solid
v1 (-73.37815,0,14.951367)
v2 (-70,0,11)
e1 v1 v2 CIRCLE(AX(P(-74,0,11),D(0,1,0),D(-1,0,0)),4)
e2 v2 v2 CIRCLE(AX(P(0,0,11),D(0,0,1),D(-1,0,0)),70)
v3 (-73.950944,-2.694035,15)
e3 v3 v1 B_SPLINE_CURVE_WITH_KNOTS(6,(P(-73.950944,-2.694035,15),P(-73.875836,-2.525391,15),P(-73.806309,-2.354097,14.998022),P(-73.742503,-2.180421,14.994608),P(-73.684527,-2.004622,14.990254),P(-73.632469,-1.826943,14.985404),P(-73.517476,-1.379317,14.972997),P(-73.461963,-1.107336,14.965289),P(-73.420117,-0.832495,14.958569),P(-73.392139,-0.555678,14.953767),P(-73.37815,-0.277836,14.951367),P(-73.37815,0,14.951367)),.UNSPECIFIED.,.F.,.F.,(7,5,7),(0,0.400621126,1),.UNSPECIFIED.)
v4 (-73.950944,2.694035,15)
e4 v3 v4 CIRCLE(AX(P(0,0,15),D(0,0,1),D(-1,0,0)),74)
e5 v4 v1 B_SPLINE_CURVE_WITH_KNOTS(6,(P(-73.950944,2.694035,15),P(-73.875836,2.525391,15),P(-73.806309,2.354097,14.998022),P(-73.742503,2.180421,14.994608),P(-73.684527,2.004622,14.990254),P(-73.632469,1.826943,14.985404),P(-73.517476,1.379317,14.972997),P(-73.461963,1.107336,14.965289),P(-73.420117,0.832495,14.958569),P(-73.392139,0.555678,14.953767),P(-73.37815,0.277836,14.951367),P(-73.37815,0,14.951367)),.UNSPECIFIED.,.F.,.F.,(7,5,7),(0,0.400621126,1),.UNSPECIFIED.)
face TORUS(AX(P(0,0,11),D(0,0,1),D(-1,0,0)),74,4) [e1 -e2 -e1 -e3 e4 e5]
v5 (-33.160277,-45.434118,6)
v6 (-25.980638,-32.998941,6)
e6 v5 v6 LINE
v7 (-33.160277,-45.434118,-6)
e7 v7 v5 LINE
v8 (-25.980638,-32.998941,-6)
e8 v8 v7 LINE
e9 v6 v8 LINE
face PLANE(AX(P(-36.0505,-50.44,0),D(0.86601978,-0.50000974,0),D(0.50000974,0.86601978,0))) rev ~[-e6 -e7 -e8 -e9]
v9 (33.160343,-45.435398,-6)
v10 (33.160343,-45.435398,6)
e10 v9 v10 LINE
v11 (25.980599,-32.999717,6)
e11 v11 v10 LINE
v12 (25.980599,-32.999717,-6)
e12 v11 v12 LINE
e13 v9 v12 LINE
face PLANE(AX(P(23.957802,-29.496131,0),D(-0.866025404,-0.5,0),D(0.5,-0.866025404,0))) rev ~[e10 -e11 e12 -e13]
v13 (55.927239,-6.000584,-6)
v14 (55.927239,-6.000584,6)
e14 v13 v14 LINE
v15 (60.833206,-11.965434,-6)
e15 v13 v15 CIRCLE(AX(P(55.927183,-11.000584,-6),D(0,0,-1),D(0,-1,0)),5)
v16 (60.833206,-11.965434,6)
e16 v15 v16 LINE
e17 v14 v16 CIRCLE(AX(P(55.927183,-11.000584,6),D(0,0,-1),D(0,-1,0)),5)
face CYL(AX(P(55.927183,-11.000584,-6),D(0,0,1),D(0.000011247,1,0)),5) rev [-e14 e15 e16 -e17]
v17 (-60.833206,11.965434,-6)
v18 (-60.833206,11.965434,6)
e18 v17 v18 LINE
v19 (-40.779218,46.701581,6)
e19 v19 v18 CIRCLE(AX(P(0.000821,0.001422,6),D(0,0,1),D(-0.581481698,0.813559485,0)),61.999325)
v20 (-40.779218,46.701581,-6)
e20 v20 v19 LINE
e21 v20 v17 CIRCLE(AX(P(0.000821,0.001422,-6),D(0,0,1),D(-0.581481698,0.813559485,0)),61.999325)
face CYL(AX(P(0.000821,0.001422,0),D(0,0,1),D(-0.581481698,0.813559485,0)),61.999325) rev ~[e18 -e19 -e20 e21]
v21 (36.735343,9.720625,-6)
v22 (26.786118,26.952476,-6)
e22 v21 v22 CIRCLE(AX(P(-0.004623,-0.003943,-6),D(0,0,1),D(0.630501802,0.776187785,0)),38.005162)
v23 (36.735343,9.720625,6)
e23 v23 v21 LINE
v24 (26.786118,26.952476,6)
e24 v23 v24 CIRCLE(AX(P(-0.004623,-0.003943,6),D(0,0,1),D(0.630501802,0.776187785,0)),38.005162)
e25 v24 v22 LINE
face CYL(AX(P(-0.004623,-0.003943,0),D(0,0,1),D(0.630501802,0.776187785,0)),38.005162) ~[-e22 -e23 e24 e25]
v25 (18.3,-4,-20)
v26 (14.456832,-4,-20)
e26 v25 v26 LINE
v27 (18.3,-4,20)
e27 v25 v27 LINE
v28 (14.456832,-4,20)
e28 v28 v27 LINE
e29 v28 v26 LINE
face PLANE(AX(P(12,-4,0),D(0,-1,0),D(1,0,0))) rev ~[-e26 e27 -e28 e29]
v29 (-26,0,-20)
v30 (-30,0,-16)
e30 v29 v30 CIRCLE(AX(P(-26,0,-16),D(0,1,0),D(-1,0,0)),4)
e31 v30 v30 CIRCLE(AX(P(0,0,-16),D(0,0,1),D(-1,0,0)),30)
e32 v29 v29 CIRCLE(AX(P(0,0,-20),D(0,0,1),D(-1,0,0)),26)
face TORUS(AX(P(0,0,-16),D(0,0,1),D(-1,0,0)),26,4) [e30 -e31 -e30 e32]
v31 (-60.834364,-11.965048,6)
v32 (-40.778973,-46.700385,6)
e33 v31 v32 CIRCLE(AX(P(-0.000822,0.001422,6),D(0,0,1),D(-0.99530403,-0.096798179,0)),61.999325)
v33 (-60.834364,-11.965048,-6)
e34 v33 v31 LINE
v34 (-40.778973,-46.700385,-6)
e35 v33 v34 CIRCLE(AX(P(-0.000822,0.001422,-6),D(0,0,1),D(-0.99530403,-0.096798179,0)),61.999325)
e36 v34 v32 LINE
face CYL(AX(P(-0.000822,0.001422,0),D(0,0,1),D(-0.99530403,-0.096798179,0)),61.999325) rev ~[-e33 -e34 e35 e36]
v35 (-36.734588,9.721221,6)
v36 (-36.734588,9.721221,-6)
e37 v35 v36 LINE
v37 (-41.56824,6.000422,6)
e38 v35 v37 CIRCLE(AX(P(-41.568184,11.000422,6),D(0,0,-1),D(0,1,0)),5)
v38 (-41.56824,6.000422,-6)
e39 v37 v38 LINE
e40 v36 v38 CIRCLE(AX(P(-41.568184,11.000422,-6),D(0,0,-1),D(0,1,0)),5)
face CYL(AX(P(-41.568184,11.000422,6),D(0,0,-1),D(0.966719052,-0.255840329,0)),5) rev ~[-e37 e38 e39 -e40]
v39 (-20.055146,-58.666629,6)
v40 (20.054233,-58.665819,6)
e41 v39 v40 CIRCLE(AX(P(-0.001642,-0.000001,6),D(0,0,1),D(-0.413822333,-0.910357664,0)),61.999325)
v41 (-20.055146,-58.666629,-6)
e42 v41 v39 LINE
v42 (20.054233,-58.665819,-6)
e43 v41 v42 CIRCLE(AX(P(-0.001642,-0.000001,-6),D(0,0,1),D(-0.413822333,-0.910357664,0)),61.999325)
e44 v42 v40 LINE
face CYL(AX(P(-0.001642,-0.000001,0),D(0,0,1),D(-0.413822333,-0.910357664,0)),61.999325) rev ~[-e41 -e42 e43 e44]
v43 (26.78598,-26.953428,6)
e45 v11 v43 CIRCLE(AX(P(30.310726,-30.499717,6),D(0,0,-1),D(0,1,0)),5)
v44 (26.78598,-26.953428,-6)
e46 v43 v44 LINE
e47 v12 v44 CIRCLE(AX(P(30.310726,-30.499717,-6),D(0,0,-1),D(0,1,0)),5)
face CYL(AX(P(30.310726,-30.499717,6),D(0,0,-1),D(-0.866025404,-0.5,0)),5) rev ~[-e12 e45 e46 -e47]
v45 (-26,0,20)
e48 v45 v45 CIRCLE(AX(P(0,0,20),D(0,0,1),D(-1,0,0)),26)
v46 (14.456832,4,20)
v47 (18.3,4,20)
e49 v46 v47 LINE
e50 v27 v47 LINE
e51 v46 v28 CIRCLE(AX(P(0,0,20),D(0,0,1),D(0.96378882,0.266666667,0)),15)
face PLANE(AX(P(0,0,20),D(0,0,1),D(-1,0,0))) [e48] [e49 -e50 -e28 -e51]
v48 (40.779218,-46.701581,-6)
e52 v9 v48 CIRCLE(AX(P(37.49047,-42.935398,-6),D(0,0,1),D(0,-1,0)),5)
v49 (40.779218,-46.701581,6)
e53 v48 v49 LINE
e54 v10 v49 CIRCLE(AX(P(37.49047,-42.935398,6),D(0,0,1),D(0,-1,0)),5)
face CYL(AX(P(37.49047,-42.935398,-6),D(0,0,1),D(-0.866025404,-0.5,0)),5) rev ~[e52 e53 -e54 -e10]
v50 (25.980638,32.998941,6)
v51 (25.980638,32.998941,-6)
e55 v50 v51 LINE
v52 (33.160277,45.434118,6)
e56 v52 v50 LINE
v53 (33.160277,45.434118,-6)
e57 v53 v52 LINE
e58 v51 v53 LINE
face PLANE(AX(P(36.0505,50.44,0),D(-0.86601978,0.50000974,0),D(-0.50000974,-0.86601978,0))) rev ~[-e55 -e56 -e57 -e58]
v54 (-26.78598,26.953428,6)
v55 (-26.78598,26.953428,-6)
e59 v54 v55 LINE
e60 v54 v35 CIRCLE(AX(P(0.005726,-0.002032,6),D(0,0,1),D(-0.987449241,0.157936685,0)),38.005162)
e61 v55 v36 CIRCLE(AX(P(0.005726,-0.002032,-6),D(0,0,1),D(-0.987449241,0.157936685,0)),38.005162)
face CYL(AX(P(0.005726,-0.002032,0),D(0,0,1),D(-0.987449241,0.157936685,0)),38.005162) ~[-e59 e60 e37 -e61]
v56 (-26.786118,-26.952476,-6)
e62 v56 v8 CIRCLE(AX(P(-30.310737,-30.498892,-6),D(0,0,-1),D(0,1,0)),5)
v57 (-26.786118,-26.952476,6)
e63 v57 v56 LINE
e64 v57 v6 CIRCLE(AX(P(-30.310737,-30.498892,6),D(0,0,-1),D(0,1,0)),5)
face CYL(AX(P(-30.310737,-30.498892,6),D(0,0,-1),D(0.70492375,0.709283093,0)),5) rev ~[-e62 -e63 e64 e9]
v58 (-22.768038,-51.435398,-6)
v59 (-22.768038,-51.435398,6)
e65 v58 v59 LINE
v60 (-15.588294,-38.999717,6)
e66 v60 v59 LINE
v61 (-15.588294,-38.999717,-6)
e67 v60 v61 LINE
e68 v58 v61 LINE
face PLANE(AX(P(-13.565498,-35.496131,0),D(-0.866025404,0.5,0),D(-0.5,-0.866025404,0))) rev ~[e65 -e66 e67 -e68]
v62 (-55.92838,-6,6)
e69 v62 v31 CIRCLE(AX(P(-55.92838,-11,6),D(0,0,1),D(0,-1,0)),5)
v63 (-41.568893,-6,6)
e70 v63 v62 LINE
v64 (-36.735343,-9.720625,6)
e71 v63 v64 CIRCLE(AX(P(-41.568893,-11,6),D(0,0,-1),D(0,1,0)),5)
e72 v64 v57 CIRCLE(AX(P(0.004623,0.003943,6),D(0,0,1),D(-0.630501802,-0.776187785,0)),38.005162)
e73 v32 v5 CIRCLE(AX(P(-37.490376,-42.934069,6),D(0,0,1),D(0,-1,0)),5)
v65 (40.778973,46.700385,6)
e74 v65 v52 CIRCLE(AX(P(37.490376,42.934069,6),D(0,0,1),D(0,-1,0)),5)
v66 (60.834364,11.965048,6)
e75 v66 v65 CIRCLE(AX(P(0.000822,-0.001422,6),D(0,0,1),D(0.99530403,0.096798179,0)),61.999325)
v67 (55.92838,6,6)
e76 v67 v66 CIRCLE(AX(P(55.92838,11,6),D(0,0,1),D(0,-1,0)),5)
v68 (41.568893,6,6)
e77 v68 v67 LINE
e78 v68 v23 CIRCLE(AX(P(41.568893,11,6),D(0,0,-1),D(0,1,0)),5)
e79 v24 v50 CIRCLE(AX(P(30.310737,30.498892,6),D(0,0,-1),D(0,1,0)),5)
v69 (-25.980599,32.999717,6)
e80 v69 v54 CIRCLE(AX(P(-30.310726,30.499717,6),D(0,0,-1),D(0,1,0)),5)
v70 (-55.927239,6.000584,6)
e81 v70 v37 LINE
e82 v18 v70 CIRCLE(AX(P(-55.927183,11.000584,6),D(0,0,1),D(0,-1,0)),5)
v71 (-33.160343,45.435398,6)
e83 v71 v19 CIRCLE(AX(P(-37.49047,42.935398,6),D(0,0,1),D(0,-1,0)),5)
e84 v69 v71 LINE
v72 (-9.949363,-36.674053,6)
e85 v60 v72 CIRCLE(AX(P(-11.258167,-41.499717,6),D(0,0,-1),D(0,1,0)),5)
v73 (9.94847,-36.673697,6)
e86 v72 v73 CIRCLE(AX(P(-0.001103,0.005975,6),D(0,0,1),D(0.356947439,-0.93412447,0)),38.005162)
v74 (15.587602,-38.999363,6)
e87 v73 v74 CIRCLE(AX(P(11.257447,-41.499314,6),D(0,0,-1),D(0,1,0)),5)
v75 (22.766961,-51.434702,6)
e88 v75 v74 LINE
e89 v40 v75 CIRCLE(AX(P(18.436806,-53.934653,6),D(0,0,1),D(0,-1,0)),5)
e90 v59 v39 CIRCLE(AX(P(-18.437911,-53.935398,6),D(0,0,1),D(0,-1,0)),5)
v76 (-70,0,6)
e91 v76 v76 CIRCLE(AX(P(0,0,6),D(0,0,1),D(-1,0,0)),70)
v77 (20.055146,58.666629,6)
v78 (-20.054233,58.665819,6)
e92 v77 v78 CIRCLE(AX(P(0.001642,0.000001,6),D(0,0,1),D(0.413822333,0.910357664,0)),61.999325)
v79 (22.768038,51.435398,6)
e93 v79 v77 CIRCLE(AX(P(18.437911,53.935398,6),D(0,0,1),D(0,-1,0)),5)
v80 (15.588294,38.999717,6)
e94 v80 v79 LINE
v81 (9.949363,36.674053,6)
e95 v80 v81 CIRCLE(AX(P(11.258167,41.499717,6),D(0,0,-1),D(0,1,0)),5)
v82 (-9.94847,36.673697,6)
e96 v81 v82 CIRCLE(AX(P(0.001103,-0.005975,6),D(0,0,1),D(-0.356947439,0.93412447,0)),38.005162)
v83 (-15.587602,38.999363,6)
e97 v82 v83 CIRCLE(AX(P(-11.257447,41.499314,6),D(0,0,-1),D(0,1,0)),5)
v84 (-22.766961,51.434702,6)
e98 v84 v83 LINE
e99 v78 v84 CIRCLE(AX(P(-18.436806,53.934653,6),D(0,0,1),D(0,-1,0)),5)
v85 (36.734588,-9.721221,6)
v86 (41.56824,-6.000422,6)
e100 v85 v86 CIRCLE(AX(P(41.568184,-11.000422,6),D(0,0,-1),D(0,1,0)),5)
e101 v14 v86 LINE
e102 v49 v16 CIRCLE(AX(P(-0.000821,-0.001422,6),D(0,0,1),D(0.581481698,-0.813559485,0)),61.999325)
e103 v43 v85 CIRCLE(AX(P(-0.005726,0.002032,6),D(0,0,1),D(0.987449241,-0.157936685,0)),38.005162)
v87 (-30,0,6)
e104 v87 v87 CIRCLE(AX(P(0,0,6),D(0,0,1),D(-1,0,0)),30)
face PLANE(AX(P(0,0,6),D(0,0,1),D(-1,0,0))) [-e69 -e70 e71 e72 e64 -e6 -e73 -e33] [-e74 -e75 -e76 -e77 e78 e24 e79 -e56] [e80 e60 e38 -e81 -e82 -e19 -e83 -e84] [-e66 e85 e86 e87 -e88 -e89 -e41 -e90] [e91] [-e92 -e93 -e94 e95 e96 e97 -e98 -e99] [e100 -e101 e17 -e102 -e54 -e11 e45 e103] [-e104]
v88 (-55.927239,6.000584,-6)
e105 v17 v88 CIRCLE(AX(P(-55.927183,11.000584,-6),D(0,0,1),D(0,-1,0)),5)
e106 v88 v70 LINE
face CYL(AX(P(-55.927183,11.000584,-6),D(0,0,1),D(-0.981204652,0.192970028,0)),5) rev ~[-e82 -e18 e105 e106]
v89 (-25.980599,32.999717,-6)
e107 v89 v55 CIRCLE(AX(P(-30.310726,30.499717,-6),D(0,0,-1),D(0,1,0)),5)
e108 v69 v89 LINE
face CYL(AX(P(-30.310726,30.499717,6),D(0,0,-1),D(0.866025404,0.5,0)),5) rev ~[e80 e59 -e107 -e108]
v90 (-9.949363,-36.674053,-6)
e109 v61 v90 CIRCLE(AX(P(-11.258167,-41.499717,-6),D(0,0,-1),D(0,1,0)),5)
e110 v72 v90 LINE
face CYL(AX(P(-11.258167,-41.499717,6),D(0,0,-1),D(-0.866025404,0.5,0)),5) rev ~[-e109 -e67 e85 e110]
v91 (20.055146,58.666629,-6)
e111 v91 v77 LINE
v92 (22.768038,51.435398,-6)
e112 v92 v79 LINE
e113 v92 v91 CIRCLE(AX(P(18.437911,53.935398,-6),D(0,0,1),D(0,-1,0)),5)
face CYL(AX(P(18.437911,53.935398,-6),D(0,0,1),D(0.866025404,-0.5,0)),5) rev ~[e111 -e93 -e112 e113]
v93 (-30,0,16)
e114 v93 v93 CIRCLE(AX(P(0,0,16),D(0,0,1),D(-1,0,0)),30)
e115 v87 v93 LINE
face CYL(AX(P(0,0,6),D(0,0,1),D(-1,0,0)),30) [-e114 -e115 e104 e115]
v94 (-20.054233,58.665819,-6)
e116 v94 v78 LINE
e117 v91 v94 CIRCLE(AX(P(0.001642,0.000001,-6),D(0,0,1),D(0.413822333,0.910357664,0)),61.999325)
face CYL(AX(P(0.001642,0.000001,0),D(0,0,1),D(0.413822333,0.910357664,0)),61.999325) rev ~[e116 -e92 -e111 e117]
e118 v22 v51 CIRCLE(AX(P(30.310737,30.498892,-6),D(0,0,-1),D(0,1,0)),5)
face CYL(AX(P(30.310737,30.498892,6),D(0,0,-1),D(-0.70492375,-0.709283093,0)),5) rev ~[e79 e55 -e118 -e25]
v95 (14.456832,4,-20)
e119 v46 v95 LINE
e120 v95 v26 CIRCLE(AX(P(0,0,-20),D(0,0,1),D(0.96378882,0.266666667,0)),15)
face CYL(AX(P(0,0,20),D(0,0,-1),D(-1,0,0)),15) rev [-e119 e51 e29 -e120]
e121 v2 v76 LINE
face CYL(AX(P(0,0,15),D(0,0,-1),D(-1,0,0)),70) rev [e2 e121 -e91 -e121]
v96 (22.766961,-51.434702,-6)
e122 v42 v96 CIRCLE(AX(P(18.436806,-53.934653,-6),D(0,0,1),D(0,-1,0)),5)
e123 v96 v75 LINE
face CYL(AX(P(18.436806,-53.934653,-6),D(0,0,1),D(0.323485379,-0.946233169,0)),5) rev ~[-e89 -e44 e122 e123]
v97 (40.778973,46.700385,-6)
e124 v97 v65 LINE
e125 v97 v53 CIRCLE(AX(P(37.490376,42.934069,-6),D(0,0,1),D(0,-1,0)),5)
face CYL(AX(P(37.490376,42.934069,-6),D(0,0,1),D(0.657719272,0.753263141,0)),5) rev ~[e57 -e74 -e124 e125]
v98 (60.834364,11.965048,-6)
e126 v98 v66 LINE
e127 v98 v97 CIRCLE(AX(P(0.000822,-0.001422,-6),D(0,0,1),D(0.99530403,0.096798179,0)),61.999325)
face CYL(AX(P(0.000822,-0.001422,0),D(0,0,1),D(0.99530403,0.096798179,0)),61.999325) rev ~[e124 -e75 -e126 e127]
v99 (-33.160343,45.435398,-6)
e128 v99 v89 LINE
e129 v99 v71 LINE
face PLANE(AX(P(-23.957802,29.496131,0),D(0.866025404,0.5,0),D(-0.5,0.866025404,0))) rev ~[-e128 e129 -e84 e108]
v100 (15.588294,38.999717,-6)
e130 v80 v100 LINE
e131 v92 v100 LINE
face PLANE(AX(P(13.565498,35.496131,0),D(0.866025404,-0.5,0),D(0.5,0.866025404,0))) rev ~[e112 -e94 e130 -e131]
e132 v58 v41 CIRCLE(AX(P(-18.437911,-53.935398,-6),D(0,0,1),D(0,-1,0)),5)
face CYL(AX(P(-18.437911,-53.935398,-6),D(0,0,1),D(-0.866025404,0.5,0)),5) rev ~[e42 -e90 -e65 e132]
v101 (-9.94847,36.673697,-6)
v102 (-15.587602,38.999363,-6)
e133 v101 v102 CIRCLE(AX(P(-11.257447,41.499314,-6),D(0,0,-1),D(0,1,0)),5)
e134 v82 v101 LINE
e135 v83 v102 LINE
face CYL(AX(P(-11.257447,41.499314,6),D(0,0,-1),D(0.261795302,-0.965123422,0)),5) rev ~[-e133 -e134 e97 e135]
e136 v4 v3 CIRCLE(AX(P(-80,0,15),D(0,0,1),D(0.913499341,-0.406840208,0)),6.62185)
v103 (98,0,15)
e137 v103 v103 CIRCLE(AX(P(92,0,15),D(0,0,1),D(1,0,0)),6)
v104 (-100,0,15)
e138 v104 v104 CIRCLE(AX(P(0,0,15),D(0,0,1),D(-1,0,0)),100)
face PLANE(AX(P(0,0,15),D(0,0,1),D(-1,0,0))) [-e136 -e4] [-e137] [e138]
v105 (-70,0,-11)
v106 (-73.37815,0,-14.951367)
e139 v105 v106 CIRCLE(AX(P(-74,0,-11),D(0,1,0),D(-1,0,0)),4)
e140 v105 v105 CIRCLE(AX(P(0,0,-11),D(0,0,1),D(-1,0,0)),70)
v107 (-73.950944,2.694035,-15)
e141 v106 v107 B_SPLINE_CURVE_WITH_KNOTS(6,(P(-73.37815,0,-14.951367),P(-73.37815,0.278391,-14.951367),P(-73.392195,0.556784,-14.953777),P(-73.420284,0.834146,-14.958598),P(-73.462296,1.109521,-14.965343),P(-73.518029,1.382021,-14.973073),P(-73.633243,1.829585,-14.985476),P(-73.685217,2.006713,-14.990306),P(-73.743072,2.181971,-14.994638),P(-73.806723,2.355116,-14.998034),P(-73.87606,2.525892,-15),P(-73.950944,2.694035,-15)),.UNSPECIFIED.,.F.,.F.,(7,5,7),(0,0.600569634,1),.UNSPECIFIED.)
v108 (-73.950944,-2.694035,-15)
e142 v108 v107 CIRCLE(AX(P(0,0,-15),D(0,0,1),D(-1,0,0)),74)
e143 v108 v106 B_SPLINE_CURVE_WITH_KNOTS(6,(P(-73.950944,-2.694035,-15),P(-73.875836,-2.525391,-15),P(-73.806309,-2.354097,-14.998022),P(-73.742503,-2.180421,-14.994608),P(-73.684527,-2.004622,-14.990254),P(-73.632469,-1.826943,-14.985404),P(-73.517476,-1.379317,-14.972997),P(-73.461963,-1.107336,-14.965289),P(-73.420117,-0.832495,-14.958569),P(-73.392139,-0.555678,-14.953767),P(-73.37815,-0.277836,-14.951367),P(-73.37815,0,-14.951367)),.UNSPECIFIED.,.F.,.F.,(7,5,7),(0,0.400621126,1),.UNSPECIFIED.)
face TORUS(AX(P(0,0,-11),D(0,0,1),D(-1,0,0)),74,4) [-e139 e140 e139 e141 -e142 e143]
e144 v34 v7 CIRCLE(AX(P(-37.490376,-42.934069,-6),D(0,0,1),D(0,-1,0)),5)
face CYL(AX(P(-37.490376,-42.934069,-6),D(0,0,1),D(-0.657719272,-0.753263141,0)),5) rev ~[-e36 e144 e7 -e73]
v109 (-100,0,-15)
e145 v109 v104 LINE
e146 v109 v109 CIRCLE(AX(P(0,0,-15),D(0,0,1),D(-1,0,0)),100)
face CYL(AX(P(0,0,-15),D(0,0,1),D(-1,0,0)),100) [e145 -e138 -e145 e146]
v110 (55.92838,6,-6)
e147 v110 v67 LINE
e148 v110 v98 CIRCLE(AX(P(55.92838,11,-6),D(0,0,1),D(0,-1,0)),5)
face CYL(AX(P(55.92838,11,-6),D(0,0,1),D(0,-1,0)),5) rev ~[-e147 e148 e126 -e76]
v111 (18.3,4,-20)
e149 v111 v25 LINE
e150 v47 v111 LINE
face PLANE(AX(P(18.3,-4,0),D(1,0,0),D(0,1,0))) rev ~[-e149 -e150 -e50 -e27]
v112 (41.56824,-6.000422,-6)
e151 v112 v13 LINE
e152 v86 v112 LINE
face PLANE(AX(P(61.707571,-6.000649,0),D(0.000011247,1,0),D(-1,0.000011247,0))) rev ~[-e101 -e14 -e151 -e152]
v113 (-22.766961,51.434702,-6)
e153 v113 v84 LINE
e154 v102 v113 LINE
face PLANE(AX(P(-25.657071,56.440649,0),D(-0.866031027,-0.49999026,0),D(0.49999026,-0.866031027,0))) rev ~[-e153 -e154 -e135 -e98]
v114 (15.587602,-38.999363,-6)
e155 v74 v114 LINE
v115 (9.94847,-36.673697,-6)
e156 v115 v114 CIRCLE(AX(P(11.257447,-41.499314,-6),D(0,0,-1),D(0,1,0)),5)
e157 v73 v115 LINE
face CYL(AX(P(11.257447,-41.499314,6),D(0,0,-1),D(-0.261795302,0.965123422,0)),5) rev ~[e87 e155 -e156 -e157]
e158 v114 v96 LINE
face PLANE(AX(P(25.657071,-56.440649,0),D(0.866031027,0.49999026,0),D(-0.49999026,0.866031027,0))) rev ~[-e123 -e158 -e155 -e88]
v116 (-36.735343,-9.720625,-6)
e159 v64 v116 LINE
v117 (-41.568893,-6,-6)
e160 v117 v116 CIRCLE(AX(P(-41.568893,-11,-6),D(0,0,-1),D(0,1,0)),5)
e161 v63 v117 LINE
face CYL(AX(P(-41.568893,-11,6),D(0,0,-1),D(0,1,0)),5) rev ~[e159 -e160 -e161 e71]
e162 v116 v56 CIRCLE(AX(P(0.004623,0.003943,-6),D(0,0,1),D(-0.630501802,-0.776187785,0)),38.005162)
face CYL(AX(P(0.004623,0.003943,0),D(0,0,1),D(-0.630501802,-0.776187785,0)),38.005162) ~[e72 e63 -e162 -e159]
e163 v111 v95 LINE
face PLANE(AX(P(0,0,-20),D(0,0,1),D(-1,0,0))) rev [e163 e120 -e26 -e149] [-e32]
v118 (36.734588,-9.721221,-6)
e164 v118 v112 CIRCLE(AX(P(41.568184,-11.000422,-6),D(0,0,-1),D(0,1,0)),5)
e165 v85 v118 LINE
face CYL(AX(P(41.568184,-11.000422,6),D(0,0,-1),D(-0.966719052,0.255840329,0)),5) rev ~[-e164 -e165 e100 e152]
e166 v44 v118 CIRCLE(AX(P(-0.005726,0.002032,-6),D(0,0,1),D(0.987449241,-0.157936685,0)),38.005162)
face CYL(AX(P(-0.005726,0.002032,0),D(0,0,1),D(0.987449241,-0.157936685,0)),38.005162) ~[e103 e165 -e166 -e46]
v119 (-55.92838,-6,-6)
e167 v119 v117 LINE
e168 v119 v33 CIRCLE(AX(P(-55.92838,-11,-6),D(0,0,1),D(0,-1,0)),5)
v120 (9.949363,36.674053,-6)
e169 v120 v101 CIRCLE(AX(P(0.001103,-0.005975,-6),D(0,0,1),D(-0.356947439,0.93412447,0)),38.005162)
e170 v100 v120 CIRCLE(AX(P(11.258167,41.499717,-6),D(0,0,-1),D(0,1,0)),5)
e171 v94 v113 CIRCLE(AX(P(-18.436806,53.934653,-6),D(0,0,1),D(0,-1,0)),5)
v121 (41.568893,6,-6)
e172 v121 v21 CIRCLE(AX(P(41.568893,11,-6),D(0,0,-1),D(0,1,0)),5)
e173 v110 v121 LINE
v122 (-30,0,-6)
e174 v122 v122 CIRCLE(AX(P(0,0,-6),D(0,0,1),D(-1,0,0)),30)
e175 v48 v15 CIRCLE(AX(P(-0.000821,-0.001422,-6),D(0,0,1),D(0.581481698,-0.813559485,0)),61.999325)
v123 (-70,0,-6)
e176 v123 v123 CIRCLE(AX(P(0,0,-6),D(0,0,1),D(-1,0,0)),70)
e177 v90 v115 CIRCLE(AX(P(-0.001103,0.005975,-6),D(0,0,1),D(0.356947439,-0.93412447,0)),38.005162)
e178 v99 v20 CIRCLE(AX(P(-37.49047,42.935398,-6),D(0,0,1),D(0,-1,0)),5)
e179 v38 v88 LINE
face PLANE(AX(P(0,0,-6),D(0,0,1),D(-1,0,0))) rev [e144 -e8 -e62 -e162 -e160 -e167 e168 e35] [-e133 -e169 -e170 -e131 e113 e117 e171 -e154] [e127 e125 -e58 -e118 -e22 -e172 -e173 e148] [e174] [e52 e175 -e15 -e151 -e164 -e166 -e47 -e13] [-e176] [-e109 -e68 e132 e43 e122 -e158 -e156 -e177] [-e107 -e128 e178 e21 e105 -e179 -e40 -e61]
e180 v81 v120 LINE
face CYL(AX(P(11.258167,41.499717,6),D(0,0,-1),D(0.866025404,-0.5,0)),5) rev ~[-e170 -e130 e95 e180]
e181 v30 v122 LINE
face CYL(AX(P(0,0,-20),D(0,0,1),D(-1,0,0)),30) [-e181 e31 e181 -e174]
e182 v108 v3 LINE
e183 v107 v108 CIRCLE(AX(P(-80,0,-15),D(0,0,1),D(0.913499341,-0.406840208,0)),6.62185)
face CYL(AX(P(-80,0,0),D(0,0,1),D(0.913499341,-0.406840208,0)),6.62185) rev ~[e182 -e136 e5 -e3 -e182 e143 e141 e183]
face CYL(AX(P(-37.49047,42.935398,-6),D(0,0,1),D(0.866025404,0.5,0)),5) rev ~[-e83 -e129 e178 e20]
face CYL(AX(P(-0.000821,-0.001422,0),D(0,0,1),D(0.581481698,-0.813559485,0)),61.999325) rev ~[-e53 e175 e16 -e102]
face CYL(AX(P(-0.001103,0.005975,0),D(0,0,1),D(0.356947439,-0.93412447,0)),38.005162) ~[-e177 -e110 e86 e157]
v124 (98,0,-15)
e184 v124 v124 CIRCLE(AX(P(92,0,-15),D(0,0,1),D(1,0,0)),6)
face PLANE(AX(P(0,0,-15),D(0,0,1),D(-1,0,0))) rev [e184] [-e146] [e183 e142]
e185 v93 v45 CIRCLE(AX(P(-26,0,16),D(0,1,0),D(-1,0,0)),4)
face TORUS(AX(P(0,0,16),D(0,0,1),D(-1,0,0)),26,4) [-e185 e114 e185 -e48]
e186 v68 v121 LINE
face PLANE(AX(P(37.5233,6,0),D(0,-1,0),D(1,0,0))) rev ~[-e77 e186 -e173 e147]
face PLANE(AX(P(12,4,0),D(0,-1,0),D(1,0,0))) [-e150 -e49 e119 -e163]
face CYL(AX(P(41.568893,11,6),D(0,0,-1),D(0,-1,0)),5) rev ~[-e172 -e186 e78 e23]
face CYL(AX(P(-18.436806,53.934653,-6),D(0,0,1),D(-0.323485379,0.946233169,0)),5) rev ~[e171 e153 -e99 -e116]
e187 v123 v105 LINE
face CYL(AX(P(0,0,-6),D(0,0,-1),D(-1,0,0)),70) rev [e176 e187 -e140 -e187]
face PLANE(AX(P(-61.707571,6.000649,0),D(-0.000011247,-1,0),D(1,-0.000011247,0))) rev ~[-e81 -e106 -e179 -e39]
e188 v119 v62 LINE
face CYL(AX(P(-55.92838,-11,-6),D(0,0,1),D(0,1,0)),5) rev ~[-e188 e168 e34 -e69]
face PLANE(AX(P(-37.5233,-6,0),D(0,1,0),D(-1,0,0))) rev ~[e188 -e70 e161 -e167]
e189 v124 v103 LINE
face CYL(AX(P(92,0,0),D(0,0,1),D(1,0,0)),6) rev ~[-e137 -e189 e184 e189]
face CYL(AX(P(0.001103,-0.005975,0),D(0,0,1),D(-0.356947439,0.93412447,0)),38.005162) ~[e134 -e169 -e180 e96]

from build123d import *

# Parameters (mm, degrees)
FILLET_1_R               = 4
CUT_EXTRUDE_10_DEPTH     = 201
PATTERN_CIRCULAR_1_COUNT = 6
FILLET_2_R               = 5
SKETCH_10_W              = 6.3
SKETCH_10_H              = 8
CUT_EXTRUDE_13_DEPTH     = 201
SKETCH_11_R              = 6.62185
CUT_EXTRUDE_14_DEPTH     = 201
SKETCH_12_R              = 6
CUT_EXTRUDE_15_DEPTH     = 201


with BuildPart() as part:
    # 草图1 → 旋转1 (revolve)
    with BuildSketch(Plane(origin=(0, 0, 0), x_dir=(1, 0, 0), z_dir=(0, 1, 0))):
        Polygon((15, 20), (30, 20), (30, 6), (70, 6), (70, 15), (100, 15), (100, -15), (70, -15), (70, -6), (30, -6), (30, -20), (15, -20), align=None)
    revolve(axis=Axis((0, 0, -20), (0, 0, 1)))

    # 圆角1
    fillet_1_edges = [part.edges().sort_by_distance(p)[0] for p in [
        (-70, 0, -15),
        (-70, 0, 15),
        (-30, 0, -20),
        (-30, 0, 20),
    ]]
    fillet(fillet_1_edges, radius=FILLET_1_R)

    # 草图8 → 切除-拉伸10 (cut, symmetric)
    with BuildSketch(Plane.XY):
        with BuildLine():
            Line((37.5233, 6), (61.709, 6))
            ThreePointArc((61.709, 6), (53.693260927, 30.999195997), (36.0505, 50.44))
            Line((36.0505, 50.44), (23.9577, 29.4952))
            ThreePointArc((23.9577, 29.4952), (32.908424465, 18.999310823), (37.5233, 6))
        make_face()
    cut_extrude_10 = extrude(amount=CUT_EXTRUDE_10_DEPTH, both=True, mode=Mode.SUBTRACT)

    # 阵列(圆周)1: 切除-拉伸10 ×6 about axis
    pattern_circular_1_axis = Axis((0, 0, 22), (0, 0, -1))
    for i in range(1, PATTERN_CIRCULAR_1_COUNT):
        add(cut_extrude_10.rotate(pattern_circular_1_axis, i * 360 / PATTERN_CIRCULAR_1_COUNT), mode=Mode.SUBTRACT)

    # 圆角2
    fillet_2_edges = [part.edges().sort_by_distance(p)[0] for p in [
        (37.52244249, -6.000376816, 0),
        (61.707571367, -6.000648819, 0),
        (36.050652423, -50.441561642, 0),
        (23.957802423, -29.496131034, 0),
        (13.56474249, -35.495576816, 0),
        (25.657071367, -56.440648819, 0),
        (-25.658347577, -56.441561642, 0),
        (-13.565497577, -35.496131034, 0),
        (-23.9577, -29.4952, 0),
        (-36.0505, -50.44, 0),
        (-61.709, -6, 0),
        (-37.5233, -6, 0),
        (-37.52244249, 6.000376816, 0),
        (-61.707571367, 6.000648819, 0),
        (-36.050652423, 50.441561642, 0),
        (-23.957802423, 29.496131034, 0),
        (-13.56474249, 35.495576816, 0),
        (-25.657071367, 56.440648819, 0),
        (25.658347577, 56.441561642, 0),
        (13.565497577, 35.496131034, 0),
        (23.9577, 29.4952, 0),
        (36.0505, 50.44, 0),
        (61.709, 6, 0),
        (37.5233, 6, 0),
    ]]
    fillet(fillet_2_edges, radius=FILLET_2_R)

    # 草图10 → 切除-拉伸13 (cut, symmetric)
    with BuildSketch(Plane.XY):
        with Locations((15.15, 0)):
            Rectangle(SKETCH_10_W, SKETCH_10_H)
    extrude(amount=CUT_EXTRUDE_13_DEPTH, both=True, mode=Mode.SUBTRACT)

    # 草图11 → 切除-拉伸14 (cut, symmetric)
    with BuildSketch(Plane.XY):
        with Locations((-80, 0)):
            Circle(SKETCH_11_R)
    extrude(amount=CUT_EXTRUDE_14_DEPTH, both=True, mode=Mode.SUBTRACT)

    # 草图12 → 切除-拉伸15 (cut, symmetric)
    with BuildSketch(Plane.XY):
        with Locations((92, 0)):
            Circle(SKETCH_12_R)
    extrude(amount=CUT_EXTRUDE_15_DEPTH, both=True, mode=Mode.SUBTRACT)


solid = part.part
